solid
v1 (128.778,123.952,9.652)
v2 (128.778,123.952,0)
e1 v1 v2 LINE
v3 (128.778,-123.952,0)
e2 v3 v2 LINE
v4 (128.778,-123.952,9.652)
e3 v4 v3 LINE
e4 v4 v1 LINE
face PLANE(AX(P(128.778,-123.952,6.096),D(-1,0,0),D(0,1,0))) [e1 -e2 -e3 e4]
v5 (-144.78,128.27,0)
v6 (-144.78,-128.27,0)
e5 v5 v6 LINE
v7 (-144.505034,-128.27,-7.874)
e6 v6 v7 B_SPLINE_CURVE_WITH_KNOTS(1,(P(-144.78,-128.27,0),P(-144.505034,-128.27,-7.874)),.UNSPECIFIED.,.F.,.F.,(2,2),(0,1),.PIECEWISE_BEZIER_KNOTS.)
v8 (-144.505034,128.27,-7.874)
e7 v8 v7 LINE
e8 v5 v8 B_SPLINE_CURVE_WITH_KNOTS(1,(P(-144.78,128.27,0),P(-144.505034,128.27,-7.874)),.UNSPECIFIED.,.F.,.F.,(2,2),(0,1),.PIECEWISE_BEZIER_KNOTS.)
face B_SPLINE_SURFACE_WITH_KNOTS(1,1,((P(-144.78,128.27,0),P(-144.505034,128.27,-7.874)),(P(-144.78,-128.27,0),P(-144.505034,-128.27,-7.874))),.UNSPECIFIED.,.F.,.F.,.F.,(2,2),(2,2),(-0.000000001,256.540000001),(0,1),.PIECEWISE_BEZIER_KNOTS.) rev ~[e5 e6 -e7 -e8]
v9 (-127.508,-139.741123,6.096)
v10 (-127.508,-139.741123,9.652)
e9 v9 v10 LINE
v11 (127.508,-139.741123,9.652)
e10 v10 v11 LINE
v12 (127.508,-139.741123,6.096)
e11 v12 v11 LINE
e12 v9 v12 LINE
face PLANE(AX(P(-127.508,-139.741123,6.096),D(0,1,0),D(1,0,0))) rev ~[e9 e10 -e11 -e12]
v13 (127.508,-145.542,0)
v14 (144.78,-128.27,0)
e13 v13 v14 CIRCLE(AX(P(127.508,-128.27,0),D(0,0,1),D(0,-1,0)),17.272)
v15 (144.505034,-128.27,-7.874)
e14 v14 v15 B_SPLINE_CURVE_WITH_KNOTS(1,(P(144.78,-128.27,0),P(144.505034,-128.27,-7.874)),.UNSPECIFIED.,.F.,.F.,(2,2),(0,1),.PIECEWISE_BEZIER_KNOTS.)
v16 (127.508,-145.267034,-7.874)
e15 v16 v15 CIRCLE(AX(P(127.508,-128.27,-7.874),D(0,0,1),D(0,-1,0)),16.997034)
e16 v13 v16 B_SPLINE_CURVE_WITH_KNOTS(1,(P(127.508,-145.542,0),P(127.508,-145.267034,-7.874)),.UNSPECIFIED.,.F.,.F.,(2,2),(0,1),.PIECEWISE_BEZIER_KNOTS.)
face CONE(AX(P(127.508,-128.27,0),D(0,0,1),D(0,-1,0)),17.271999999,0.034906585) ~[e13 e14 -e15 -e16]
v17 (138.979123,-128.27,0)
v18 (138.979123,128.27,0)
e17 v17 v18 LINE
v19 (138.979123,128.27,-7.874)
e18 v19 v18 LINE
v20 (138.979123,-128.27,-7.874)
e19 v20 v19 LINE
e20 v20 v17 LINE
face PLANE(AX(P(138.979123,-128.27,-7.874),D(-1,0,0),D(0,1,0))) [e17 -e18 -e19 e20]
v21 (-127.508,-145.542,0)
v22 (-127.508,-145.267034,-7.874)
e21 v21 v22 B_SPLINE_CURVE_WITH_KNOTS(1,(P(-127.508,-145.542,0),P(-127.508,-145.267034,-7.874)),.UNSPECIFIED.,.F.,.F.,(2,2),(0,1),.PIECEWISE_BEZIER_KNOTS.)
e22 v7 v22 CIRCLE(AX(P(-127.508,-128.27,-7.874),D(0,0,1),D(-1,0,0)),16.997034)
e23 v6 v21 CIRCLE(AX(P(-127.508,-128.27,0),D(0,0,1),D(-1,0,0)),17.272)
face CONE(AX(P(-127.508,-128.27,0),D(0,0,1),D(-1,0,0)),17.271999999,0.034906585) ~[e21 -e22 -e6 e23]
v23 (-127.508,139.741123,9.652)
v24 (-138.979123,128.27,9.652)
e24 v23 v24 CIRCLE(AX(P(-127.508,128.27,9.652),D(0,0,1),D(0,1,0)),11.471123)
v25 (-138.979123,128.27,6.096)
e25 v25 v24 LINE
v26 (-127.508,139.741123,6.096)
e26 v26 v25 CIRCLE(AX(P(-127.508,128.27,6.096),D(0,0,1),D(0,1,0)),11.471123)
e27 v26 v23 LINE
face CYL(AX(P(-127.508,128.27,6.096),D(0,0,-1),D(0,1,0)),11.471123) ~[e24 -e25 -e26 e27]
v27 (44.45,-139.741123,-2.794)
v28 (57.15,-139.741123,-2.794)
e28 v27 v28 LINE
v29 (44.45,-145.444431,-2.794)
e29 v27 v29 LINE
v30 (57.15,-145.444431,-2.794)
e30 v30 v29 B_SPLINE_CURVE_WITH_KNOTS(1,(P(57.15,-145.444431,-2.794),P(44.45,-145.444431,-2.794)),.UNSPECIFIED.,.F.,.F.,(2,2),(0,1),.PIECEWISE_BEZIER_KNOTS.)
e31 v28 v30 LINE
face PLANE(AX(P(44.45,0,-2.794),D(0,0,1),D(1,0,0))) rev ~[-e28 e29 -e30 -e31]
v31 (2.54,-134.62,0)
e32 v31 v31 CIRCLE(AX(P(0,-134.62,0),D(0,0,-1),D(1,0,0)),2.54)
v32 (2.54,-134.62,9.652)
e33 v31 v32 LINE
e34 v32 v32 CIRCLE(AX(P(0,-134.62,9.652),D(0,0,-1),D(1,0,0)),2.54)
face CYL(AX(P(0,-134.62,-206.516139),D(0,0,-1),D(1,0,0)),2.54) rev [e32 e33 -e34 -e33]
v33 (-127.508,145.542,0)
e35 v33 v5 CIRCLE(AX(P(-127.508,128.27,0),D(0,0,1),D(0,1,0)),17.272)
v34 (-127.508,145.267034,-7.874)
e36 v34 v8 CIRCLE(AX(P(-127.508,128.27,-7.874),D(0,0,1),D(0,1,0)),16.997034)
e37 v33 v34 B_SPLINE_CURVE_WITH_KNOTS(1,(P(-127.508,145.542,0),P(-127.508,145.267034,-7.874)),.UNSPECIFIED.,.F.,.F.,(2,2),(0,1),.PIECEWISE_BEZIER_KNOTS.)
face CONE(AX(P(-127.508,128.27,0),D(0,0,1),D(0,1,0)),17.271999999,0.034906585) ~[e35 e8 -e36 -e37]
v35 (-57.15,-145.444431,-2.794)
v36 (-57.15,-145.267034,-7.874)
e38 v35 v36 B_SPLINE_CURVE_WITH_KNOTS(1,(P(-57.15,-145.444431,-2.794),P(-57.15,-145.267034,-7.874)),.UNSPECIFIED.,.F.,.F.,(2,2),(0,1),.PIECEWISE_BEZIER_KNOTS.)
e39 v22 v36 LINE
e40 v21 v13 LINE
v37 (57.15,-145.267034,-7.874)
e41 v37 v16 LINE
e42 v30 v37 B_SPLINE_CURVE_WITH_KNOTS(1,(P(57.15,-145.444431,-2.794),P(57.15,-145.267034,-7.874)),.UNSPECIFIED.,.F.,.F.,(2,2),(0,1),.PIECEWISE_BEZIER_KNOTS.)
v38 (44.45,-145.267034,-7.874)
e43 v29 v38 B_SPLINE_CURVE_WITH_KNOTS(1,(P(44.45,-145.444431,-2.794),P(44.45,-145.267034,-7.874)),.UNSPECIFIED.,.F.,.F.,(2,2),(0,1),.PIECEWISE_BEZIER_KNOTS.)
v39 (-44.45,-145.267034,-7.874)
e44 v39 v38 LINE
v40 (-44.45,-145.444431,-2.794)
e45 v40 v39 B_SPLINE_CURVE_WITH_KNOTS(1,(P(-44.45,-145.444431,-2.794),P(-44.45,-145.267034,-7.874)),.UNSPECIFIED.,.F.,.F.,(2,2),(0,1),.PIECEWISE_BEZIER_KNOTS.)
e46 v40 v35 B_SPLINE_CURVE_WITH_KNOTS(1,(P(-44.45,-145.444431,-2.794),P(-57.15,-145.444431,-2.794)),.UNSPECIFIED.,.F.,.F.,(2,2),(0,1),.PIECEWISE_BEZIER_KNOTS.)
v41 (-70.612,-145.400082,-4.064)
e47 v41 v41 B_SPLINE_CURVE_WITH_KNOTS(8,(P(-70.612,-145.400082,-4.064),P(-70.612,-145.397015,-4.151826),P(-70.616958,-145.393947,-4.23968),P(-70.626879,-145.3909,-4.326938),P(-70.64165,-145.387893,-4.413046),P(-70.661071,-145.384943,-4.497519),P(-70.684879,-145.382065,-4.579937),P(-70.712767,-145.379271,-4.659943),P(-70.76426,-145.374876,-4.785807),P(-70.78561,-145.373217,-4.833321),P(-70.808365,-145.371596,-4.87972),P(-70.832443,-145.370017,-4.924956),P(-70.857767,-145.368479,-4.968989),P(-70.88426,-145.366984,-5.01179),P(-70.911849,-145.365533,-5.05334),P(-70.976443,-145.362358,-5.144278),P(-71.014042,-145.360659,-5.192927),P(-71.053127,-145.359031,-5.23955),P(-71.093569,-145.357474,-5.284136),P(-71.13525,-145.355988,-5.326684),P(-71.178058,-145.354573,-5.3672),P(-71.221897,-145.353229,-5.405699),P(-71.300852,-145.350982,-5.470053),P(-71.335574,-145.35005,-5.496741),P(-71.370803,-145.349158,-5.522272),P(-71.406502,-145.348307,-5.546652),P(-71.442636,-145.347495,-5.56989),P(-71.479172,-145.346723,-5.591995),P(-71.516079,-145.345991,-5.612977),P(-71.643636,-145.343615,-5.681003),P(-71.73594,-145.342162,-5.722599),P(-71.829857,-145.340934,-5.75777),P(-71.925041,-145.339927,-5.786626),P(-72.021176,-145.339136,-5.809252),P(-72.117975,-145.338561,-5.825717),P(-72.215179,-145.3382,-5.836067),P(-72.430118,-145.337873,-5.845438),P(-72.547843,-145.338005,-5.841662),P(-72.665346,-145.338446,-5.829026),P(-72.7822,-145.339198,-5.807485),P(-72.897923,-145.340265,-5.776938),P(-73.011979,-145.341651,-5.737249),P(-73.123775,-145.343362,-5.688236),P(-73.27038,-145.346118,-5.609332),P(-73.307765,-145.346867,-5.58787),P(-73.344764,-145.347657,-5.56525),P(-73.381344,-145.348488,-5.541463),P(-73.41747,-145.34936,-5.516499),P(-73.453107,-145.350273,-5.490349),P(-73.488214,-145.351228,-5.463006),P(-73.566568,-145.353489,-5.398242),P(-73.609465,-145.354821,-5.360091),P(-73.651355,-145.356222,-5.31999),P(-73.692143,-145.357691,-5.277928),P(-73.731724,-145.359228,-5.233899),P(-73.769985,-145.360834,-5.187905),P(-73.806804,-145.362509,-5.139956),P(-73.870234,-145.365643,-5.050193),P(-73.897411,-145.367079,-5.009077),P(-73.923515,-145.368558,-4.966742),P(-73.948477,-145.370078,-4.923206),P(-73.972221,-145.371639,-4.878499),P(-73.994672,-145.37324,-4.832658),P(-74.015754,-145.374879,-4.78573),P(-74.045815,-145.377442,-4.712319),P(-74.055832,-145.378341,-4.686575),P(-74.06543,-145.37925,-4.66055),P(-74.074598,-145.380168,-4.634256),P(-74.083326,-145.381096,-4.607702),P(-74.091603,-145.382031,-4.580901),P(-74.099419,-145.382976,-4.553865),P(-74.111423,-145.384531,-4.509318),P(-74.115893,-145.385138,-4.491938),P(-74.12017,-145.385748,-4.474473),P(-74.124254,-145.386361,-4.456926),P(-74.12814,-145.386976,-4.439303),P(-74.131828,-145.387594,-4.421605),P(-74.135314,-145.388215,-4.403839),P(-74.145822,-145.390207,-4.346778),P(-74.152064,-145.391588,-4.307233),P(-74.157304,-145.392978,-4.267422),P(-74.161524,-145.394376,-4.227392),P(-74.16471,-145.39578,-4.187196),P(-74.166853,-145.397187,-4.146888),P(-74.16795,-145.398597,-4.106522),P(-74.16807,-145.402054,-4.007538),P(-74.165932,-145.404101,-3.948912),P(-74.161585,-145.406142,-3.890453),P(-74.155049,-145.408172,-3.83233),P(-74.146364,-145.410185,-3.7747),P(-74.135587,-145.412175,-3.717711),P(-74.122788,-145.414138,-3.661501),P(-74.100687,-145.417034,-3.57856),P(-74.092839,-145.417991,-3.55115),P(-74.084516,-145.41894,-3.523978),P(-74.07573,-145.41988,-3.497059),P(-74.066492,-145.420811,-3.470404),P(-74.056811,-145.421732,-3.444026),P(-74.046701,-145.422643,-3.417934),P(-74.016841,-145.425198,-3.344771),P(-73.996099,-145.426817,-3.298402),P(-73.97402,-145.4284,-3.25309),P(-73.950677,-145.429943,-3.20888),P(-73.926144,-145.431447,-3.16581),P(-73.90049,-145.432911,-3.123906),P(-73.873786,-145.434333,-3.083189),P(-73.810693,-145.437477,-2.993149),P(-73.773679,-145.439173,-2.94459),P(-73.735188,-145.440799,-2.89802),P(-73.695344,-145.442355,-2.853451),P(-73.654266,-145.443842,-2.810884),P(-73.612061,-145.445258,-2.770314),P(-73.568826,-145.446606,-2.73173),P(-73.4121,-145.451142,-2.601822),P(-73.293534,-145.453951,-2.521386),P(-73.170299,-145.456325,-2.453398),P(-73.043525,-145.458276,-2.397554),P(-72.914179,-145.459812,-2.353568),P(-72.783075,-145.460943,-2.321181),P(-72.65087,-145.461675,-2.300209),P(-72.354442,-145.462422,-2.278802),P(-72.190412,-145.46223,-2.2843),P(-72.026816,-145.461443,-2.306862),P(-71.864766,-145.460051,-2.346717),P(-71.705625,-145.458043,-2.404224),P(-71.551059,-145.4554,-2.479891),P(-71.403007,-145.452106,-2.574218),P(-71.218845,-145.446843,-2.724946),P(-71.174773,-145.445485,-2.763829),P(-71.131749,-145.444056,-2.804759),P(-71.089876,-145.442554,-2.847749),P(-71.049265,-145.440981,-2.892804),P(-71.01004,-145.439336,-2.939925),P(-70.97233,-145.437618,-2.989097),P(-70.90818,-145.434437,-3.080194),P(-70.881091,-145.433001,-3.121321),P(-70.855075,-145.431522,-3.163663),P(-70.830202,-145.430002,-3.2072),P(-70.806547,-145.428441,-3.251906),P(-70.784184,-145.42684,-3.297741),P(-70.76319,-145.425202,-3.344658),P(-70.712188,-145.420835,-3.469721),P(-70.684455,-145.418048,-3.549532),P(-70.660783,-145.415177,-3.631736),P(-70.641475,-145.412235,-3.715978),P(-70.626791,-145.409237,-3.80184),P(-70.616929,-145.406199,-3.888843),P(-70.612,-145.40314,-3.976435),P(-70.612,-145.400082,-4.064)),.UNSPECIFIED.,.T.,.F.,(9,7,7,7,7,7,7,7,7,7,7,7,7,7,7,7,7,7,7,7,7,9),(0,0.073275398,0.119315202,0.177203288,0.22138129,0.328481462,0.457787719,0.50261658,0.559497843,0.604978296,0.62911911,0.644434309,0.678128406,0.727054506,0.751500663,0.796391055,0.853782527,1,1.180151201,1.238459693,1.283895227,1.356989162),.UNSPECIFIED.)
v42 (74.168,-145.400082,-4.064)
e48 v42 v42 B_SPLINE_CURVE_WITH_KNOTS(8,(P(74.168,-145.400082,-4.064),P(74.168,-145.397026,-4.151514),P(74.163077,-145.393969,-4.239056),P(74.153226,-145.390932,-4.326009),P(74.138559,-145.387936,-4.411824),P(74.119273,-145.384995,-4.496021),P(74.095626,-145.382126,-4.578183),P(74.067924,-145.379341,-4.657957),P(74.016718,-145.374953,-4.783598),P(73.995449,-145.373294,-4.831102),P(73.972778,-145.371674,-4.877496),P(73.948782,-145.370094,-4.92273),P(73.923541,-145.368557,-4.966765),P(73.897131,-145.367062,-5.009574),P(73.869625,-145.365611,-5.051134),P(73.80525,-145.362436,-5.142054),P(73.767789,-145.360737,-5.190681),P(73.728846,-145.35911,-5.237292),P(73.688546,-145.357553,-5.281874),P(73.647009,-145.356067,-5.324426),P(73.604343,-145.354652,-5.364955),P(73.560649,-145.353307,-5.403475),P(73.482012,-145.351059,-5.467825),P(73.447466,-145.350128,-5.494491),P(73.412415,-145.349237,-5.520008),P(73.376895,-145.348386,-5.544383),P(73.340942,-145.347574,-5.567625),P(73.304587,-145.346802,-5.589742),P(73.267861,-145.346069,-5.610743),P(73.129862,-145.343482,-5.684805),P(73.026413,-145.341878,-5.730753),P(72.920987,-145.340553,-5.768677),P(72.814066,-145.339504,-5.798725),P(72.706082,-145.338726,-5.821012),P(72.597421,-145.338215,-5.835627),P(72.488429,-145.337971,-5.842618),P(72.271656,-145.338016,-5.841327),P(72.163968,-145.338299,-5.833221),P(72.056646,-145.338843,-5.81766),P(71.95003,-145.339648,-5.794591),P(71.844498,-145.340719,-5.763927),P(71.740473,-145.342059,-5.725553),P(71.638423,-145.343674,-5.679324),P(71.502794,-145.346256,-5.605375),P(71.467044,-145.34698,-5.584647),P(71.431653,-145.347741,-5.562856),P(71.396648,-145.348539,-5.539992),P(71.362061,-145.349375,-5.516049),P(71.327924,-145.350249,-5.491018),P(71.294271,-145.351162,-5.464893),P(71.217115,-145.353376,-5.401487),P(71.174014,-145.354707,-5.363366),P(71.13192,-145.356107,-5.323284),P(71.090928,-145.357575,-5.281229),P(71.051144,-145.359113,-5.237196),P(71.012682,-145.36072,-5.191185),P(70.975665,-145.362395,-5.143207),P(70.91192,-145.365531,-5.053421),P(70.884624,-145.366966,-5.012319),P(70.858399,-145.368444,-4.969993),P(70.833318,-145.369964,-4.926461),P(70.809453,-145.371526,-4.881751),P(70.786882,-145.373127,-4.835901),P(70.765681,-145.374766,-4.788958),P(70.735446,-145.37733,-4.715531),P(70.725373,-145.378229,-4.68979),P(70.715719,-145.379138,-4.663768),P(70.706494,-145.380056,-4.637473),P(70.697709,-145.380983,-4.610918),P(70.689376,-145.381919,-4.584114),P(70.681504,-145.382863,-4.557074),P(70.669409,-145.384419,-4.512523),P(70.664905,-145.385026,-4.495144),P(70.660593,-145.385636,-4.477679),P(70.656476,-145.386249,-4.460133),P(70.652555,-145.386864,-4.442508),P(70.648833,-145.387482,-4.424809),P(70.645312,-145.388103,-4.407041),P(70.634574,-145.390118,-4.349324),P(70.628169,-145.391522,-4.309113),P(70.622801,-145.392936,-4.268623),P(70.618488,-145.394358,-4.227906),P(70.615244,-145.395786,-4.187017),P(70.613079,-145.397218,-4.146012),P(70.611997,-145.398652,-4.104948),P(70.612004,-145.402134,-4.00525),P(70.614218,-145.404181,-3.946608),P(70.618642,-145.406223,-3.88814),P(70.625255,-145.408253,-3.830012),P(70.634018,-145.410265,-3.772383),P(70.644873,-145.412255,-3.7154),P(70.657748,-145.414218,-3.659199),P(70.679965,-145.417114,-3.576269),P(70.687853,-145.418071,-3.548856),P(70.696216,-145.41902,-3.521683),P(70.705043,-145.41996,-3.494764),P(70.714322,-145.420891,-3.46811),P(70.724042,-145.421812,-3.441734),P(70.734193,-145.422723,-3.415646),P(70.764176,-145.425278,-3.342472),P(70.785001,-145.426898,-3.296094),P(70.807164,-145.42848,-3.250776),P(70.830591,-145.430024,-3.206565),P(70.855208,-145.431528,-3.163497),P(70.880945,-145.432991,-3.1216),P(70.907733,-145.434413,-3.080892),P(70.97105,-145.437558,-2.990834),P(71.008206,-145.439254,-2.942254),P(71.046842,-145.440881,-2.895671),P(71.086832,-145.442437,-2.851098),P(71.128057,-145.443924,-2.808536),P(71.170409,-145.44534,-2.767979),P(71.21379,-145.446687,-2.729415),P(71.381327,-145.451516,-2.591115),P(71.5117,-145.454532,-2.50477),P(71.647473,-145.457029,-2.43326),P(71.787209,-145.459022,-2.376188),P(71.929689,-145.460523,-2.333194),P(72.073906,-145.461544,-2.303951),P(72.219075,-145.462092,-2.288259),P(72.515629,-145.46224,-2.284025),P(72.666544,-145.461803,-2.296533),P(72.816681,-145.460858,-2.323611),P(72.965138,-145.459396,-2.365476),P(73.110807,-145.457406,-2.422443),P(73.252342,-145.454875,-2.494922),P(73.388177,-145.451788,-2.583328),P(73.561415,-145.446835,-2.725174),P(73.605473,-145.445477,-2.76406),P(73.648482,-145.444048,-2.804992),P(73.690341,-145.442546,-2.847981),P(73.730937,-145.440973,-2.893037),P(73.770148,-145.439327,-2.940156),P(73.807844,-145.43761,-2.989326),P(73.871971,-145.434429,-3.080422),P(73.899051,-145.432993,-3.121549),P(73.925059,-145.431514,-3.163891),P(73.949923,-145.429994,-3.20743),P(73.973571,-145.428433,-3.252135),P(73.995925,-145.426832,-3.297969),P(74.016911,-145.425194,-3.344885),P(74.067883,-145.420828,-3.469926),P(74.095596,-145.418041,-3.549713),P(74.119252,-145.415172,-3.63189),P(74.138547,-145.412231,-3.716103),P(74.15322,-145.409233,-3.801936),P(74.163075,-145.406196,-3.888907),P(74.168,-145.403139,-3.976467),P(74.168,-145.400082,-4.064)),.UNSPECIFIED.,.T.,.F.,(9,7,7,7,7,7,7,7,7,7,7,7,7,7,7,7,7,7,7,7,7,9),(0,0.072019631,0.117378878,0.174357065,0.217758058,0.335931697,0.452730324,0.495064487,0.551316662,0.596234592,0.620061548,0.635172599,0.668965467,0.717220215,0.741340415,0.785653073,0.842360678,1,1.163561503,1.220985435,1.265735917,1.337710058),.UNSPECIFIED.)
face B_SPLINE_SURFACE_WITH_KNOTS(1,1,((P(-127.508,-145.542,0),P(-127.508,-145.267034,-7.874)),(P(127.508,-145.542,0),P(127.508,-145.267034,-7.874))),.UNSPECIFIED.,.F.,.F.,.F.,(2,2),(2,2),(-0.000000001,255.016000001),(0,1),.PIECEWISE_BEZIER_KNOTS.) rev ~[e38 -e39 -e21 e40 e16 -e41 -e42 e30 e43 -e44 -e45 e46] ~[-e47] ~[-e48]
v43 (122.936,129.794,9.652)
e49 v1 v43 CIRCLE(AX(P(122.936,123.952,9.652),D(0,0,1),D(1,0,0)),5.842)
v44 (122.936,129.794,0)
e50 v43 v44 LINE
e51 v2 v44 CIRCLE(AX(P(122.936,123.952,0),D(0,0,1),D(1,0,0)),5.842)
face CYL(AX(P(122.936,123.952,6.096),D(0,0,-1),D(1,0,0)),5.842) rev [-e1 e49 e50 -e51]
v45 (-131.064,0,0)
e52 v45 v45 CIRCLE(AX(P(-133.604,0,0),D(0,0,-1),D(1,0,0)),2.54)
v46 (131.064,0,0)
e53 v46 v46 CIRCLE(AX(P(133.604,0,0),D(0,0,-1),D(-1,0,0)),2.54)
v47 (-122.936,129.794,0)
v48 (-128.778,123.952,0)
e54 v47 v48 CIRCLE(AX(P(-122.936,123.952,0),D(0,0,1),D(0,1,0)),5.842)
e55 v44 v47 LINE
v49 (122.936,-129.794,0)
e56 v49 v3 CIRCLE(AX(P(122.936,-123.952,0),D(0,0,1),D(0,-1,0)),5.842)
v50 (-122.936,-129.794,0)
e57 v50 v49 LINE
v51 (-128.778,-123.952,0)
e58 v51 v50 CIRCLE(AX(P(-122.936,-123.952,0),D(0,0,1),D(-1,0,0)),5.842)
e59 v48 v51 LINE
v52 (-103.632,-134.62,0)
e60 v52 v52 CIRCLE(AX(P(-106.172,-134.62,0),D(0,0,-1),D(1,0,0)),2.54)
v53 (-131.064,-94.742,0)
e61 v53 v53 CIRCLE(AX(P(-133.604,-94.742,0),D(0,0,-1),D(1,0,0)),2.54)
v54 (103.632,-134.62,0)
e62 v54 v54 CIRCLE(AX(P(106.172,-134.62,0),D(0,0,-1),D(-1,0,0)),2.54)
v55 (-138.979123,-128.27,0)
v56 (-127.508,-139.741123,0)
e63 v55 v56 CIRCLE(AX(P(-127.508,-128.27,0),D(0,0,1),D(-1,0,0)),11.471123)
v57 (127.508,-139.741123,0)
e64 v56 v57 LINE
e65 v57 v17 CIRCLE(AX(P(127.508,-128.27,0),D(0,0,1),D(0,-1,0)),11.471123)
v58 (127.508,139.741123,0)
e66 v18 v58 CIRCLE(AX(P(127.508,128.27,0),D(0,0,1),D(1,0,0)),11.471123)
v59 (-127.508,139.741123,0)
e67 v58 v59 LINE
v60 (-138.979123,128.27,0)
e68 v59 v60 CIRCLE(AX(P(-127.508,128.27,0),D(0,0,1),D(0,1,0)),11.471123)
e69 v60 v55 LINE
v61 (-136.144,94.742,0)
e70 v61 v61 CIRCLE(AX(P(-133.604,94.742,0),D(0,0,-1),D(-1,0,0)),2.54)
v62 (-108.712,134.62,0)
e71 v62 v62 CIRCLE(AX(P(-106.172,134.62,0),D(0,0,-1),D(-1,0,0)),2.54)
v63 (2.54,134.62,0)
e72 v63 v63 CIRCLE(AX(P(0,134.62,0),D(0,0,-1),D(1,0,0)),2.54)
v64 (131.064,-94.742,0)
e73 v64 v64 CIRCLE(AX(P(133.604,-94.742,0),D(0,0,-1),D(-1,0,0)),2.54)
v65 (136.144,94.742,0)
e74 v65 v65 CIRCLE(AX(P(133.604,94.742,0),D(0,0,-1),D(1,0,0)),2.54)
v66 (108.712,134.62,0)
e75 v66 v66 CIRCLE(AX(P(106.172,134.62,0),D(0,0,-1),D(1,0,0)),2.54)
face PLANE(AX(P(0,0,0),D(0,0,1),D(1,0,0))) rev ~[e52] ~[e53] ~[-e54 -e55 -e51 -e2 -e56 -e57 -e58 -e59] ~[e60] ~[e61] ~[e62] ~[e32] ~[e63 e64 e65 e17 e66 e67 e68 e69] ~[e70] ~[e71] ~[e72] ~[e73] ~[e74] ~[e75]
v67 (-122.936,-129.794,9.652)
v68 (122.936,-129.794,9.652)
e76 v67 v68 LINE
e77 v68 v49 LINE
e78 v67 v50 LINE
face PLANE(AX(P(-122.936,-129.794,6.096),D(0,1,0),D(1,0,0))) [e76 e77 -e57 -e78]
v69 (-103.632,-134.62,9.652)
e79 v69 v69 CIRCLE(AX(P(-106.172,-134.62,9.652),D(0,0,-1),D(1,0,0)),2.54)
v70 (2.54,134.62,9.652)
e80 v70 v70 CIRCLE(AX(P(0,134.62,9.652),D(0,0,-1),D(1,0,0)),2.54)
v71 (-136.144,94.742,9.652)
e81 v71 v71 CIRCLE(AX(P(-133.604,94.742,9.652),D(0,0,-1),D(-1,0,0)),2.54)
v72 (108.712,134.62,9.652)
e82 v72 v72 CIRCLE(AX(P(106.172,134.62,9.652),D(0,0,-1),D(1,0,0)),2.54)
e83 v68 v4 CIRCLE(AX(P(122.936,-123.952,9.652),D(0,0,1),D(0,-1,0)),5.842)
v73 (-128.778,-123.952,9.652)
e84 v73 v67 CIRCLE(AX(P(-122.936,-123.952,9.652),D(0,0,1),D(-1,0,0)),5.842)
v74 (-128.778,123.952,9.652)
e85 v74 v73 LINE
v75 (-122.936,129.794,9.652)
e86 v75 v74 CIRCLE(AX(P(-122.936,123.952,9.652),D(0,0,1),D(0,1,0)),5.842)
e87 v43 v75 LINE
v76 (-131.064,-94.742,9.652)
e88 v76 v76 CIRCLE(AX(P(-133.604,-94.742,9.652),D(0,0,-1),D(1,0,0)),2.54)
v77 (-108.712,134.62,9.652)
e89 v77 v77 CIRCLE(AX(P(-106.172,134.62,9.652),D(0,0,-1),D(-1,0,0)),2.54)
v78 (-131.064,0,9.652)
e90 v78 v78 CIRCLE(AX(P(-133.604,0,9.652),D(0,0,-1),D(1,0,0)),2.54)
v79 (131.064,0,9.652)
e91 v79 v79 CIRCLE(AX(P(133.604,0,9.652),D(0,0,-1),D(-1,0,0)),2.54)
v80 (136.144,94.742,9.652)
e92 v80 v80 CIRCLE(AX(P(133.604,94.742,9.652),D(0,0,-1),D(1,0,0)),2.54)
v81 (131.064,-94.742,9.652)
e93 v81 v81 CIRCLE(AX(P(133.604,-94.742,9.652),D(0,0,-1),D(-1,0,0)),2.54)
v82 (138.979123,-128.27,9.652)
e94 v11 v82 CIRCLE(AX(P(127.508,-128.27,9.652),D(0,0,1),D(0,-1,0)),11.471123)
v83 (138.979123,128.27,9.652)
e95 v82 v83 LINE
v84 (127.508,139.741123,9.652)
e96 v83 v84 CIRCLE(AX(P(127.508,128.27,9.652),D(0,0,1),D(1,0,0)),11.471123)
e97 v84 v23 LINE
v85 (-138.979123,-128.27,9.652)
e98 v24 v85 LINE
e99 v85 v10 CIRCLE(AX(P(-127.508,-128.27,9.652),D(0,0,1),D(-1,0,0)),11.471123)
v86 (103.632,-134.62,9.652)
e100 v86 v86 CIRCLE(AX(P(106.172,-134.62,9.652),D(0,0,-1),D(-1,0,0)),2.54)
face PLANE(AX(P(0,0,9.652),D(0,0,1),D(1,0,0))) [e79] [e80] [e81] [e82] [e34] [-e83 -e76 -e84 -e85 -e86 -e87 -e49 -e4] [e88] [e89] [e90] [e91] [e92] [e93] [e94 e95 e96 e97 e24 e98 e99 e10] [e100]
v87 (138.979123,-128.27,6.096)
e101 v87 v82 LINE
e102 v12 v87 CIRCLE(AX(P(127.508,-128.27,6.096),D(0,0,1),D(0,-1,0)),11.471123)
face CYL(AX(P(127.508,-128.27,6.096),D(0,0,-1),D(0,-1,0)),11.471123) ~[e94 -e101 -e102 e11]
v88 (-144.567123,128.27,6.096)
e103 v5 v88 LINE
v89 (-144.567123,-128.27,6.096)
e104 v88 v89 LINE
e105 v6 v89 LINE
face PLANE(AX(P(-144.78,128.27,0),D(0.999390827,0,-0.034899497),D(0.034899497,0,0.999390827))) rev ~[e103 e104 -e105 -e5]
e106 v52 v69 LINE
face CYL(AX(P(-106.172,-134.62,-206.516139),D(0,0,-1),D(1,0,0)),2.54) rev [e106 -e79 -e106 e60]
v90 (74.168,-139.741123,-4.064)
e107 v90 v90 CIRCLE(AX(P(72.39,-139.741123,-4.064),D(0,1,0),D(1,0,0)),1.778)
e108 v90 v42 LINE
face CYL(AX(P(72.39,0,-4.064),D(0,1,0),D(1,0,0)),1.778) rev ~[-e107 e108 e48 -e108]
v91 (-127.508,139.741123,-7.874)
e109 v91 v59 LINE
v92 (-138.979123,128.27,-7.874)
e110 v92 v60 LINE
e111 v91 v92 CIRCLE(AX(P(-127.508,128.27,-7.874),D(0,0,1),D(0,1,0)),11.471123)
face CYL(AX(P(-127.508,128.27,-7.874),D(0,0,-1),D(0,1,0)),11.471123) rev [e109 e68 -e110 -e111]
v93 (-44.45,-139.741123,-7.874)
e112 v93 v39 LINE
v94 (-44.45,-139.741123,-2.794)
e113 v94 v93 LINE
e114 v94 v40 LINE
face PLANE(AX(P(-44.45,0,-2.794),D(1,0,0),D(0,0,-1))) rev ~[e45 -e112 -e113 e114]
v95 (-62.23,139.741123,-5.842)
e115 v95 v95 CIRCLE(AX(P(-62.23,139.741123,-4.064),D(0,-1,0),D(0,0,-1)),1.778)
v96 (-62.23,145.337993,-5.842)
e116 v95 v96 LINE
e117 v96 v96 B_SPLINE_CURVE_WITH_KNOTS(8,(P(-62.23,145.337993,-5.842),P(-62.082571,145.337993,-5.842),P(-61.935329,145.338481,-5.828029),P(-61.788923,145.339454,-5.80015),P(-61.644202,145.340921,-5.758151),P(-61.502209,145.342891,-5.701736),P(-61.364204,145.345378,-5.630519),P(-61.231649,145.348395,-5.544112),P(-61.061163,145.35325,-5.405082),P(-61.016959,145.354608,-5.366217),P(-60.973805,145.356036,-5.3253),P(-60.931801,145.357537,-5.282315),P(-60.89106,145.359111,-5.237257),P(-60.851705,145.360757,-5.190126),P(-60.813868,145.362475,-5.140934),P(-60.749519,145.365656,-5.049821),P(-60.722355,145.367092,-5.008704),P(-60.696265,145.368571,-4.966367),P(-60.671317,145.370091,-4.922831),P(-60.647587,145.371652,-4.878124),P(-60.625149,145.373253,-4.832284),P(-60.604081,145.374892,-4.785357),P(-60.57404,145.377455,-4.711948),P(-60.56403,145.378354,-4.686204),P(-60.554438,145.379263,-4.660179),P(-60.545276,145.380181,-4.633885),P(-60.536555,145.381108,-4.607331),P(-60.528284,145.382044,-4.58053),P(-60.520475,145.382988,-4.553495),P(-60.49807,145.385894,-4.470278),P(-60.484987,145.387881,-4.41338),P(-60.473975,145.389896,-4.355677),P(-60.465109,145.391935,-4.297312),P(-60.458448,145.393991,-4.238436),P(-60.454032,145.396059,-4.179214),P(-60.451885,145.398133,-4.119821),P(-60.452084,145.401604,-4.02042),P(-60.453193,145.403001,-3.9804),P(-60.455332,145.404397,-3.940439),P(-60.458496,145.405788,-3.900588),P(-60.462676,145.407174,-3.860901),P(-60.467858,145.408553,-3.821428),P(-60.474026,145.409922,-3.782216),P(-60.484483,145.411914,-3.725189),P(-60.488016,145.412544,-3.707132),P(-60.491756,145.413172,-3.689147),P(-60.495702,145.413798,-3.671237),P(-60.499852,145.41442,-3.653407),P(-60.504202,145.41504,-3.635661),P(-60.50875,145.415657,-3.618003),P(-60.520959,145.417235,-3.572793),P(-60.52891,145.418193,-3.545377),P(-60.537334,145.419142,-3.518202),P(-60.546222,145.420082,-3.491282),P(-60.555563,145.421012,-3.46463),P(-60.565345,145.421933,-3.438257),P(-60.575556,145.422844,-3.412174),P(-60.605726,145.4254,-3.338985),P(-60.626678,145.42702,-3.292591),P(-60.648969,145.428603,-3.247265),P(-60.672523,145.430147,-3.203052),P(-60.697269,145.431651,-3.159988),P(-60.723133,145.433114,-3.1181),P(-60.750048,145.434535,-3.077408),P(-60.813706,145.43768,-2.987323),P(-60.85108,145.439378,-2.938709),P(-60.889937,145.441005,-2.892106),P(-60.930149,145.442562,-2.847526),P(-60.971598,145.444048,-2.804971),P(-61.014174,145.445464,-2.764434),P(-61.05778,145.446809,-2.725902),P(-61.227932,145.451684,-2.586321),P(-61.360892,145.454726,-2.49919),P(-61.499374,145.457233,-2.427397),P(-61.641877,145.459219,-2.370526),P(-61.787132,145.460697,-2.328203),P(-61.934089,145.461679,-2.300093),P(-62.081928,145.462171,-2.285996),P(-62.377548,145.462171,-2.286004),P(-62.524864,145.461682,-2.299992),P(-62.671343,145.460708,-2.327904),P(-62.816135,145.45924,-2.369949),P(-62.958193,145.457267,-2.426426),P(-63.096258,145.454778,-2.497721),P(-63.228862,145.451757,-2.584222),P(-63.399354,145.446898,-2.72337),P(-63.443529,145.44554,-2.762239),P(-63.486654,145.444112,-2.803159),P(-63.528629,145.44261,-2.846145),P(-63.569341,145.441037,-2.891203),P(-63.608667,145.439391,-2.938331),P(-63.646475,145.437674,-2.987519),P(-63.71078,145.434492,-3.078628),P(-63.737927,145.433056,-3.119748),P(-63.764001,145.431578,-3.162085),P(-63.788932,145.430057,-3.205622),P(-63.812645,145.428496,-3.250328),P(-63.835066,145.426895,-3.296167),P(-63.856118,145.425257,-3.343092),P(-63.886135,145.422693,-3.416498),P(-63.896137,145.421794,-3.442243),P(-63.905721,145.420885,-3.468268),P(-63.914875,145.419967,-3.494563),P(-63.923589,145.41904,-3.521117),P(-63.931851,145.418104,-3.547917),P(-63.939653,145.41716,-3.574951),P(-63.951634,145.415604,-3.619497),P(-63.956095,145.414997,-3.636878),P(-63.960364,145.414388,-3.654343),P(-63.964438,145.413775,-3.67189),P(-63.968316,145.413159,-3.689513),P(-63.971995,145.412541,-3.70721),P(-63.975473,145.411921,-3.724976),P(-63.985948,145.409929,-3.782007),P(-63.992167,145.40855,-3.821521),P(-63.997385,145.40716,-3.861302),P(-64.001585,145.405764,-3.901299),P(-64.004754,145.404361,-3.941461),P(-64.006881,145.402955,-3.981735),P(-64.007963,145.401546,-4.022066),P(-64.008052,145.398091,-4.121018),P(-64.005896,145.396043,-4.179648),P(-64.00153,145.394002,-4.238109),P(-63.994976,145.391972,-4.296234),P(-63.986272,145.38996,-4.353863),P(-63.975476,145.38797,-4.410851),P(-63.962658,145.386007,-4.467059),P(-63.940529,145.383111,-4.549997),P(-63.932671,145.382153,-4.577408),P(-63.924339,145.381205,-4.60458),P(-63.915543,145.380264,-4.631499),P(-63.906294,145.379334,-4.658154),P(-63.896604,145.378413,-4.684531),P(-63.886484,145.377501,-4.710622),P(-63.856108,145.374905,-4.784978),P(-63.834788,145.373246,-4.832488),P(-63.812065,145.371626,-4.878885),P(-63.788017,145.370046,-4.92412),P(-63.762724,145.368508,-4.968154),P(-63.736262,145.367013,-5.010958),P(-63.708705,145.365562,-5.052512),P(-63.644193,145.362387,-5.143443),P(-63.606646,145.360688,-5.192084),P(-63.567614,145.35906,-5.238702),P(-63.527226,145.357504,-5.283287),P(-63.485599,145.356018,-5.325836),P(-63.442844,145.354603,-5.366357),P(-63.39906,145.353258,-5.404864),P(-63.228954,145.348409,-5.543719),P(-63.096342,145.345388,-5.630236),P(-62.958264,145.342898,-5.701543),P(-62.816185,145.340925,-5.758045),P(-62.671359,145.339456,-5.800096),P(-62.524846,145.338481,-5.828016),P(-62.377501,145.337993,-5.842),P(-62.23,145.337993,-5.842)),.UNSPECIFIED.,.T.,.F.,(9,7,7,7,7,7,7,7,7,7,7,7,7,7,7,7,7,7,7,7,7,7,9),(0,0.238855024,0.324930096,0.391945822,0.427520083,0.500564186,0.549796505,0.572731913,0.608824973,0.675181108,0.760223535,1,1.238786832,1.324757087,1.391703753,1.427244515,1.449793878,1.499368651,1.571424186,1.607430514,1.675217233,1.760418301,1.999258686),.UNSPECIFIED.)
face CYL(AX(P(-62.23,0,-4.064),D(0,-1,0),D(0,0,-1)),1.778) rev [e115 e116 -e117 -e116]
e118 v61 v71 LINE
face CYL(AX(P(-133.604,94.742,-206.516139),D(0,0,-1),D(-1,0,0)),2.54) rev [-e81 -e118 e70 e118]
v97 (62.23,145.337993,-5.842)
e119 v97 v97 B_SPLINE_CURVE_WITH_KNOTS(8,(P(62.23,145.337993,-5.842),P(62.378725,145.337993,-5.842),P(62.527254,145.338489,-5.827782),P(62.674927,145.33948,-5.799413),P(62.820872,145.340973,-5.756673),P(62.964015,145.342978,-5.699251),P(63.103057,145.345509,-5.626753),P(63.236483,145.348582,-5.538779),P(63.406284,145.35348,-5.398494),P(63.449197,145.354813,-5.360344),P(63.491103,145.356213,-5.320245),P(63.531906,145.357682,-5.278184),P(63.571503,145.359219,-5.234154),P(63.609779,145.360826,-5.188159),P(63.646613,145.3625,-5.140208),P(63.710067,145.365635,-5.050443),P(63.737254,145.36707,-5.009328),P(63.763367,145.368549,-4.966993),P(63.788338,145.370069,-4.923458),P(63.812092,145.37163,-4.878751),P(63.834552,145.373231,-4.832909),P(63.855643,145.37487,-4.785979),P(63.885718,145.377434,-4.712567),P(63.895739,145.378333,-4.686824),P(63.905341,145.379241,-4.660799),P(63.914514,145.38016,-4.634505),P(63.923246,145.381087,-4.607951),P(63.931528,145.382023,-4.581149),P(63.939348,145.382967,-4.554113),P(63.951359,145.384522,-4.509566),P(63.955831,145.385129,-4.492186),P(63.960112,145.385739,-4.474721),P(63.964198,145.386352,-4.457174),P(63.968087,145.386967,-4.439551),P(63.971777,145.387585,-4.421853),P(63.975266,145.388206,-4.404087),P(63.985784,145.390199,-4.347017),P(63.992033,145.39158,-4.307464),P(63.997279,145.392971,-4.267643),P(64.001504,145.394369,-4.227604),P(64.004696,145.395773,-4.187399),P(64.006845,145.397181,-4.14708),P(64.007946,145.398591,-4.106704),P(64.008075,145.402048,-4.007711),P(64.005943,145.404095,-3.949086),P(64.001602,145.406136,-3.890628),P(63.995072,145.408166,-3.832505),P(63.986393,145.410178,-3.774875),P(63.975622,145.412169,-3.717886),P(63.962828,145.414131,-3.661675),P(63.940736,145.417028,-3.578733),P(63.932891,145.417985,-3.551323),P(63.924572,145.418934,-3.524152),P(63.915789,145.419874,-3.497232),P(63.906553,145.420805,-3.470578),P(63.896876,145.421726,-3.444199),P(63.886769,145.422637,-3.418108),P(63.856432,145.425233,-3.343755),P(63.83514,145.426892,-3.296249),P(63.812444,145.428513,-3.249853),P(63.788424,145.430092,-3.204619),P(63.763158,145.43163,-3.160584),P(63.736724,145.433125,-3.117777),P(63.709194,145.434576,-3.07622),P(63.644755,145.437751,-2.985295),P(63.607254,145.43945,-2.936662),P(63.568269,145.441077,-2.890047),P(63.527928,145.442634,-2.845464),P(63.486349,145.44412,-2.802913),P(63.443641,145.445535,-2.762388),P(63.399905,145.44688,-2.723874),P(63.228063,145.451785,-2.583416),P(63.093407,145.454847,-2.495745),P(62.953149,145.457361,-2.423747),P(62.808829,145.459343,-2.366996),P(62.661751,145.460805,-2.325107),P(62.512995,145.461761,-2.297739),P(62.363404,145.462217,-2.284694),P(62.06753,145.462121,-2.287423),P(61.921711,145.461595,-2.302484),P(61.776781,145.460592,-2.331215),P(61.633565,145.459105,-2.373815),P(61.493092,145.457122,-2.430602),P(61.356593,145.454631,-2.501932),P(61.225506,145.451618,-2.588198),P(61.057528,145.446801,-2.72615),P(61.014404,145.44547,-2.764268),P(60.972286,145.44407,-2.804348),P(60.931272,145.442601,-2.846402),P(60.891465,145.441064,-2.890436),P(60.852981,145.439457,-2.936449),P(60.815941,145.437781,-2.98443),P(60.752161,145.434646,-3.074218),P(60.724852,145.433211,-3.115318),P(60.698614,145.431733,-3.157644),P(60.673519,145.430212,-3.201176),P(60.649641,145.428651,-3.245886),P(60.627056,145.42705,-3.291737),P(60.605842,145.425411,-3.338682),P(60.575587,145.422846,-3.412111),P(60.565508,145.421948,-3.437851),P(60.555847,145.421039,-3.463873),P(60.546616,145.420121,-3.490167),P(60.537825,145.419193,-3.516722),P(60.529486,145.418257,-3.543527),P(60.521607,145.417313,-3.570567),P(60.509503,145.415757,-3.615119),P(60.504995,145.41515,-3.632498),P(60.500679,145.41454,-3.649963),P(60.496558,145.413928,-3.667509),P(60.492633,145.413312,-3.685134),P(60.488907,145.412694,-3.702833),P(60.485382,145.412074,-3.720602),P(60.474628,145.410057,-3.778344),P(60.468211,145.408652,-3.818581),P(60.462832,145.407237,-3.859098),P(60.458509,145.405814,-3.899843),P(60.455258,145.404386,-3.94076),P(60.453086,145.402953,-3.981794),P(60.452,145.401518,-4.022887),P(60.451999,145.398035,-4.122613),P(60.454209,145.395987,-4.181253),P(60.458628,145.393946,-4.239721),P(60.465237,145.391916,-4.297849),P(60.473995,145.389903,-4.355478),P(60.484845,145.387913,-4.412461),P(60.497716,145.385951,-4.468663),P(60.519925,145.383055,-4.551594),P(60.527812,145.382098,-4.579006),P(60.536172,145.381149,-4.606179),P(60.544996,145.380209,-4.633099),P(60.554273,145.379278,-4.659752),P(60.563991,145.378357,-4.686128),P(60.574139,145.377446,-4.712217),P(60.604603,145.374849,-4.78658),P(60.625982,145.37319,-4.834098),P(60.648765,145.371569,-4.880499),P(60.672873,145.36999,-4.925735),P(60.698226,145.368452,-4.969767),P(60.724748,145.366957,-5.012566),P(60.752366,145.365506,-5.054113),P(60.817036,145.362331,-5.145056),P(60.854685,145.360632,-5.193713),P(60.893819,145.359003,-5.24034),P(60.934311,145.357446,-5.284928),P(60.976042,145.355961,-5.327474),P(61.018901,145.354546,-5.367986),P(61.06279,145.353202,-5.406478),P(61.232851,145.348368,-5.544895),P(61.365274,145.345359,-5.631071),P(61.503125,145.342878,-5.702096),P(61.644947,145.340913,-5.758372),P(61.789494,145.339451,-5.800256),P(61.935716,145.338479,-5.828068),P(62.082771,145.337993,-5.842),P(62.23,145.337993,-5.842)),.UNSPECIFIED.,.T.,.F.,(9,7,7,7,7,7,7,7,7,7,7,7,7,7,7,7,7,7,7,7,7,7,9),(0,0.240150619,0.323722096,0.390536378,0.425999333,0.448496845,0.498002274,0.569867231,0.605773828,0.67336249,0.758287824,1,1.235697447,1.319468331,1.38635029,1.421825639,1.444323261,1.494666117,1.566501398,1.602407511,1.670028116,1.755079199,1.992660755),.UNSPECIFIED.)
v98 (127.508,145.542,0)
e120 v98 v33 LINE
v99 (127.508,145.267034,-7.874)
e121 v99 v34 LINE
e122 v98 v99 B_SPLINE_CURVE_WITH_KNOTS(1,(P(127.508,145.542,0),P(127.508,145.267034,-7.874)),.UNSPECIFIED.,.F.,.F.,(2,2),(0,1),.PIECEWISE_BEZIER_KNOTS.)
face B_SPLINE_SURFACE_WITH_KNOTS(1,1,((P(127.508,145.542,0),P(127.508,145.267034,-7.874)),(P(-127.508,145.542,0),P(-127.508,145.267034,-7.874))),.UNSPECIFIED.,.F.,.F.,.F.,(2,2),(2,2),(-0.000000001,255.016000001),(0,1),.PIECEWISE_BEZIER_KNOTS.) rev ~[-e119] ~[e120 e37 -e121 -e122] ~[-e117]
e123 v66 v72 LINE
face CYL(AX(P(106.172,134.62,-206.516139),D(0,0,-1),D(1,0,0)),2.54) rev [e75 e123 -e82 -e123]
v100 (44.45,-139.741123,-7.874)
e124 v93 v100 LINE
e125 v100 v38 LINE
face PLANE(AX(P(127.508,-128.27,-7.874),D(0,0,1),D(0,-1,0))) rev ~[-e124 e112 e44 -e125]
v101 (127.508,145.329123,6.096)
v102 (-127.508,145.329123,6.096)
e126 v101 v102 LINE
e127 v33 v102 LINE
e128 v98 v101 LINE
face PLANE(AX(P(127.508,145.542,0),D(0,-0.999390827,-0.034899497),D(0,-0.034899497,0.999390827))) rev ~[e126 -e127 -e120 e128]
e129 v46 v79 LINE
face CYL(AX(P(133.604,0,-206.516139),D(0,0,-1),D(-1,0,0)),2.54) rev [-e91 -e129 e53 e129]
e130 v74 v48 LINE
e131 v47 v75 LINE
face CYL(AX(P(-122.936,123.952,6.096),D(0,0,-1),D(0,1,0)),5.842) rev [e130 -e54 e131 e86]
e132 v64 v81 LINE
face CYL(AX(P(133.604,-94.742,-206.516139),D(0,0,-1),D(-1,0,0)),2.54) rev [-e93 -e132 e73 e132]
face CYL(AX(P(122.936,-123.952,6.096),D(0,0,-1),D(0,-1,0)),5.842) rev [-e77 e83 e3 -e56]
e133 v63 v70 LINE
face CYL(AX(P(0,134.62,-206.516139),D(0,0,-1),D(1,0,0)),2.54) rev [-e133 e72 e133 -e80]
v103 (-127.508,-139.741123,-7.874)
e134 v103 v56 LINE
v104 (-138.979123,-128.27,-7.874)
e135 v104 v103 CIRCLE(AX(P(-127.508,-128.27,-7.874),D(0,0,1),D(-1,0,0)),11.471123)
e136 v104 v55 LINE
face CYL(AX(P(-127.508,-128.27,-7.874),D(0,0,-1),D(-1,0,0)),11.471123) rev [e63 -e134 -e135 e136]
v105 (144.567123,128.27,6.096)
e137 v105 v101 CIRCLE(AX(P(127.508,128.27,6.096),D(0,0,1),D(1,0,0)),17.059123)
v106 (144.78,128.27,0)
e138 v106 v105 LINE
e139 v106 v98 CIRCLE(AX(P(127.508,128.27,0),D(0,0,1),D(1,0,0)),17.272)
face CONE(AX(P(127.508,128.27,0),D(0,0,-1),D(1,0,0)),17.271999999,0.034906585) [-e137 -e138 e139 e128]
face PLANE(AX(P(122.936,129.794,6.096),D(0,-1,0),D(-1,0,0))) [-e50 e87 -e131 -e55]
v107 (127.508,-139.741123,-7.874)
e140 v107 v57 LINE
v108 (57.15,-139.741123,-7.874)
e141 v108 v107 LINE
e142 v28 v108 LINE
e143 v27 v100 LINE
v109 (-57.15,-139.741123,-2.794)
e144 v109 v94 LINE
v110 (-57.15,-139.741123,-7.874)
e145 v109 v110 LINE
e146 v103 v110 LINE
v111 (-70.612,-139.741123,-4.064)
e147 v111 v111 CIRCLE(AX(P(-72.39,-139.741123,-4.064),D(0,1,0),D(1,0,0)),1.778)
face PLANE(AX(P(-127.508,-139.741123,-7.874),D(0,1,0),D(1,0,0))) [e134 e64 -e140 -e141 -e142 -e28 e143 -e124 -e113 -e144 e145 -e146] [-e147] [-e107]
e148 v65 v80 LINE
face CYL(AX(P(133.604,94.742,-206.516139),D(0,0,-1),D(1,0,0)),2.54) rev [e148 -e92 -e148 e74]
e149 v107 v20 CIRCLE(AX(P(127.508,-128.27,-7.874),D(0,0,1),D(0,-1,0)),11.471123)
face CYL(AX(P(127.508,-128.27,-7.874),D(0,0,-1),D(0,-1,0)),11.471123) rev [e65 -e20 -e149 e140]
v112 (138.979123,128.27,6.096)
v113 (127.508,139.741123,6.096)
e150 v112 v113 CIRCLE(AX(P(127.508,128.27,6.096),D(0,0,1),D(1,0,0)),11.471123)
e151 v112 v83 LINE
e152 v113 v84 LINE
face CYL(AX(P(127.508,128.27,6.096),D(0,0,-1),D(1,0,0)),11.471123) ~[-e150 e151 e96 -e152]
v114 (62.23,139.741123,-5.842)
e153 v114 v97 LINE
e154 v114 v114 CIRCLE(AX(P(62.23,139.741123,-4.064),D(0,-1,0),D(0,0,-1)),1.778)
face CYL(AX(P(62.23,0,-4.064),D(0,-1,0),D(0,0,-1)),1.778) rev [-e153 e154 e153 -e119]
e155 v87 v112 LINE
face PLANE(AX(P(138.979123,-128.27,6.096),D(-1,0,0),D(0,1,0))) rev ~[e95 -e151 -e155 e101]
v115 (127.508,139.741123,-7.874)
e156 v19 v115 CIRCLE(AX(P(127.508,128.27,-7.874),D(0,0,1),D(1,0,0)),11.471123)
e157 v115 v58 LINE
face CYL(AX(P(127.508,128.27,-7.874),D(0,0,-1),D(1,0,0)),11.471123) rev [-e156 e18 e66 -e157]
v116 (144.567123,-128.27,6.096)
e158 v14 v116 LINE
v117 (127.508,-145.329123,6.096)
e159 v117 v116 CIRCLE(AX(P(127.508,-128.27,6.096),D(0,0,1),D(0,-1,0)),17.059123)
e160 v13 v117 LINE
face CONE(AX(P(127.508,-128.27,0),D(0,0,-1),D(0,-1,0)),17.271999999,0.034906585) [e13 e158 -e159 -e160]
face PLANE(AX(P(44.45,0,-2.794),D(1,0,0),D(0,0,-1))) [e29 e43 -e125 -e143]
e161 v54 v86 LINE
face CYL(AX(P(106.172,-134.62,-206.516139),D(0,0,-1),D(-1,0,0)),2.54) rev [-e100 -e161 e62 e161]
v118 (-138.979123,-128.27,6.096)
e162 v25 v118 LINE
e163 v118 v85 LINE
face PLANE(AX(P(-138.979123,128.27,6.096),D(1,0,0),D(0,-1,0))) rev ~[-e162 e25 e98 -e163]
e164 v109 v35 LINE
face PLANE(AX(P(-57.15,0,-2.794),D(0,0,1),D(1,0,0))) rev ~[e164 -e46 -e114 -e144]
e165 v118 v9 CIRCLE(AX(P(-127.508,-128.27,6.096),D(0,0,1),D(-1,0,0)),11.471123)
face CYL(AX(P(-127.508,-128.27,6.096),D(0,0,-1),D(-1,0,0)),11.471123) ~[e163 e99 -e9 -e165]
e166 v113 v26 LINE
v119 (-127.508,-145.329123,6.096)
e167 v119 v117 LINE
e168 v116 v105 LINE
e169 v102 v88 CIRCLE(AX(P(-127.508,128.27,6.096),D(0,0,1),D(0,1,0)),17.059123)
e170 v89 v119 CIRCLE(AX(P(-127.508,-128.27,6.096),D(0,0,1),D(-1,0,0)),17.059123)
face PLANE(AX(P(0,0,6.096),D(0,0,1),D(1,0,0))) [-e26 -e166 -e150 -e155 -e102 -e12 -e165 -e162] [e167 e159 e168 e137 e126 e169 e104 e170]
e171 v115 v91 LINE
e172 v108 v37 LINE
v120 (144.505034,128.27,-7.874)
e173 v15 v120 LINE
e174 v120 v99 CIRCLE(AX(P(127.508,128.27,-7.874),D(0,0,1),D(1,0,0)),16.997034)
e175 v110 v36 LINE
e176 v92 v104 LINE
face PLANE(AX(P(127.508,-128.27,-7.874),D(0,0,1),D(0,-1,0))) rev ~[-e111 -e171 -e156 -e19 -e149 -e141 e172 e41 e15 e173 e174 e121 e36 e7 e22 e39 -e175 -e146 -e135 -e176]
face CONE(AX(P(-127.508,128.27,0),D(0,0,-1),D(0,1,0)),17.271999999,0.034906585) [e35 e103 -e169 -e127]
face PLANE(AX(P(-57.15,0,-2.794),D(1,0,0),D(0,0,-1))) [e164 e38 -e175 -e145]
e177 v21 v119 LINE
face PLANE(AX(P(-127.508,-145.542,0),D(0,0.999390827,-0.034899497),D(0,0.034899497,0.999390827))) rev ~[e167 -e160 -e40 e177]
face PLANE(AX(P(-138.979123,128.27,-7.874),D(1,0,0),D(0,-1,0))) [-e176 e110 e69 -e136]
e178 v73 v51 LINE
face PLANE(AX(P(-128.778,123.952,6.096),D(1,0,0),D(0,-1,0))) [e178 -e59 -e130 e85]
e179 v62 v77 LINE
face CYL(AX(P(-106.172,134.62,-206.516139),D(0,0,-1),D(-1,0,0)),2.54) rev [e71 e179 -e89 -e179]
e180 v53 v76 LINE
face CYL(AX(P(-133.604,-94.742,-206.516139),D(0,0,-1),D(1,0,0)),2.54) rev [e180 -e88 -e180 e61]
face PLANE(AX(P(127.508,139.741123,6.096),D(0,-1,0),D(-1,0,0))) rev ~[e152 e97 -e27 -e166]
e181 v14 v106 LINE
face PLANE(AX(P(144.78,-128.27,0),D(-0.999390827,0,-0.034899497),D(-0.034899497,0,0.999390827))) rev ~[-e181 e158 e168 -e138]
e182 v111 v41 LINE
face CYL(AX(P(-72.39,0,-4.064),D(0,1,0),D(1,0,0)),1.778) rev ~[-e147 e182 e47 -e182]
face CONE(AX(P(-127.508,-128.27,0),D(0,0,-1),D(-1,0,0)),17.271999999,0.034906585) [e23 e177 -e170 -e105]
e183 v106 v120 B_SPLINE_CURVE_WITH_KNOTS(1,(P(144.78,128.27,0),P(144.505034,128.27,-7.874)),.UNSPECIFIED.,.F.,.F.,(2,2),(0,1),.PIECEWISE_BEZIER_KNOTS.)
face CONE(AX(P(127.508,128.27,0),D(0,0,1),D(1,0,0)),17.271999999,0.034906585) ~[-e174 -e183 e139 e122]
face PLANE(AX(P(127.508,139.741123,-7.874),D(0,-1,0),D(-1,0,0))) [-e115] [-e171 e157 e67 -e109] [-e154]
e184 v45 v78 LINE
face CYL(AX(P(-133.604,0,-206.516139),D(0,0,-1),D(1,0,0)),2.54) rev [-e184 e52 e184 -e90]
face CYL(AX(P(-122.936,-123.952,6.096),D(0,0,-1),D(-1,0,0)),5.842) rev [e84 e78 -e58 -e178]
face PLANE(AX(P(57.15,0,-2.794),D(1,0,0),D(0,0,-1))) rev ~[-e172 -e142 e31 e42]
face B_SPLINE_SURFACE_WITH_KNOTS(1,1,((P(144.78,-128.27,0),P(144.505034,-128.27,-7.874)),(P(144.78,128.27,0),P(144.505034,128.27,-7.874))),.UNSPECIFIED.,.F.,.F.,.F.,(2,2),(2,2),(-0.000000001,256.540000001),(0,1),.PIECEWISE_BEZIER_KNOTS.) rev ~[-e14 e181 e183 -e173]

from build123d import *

# Parameters (mm, degrees)
BOSS_EXTRUDE1_DEPTH           = 6.096
BOSS_EXTRUDE1_TAPER           = 2
BOSS_EXTRUDE1_OTHER_WAY_DEPTH = 7.874
BOSS_EXTRUDE1_OTHER_WAY_TAPER = 2
CUT_EXTRUDE1_DEPTH            = 206.440312742
CUT_EXTRUDE1_DEPTH_BACK       = 206.440312742
BOSS_EXTRUDE2_START           = 6.096
BOSS_EXTRUDE2_DEPTH           = 3.556
CUT_EXTRUDE2_DEPTH            = 206.516138846
CUT_EXTRUDE2_DEPTH_BACK       = 206.516138846
SKETCH4_4_R                   = 2.54
CUT_EXTRUDE5_START            = -7.874
CUT_EXTRUDE5_DEPTH            = 7.874
SKETCH6_W                     = 12.7
SKETCH6_H                     = 5.08
SKETCH6_R                     = 1.778
CUT_EXTRUDE6_DEPTH            = 160.02
SKETCH6_3_R                   = 1.778
CUT_EXTRUDE7_DEPTH            = 160.02


with BuildPart() as part:
    # Sketch1 → Boss-Extrude1 (new body)
    with BuildSketch(Plane.XY):
        with BuildLine():
            Line((-127.508, -145.542), (127.508, -145.542))
            ThreePointArc((127.508, -145.542), (139.721148325, -140.483148325), (144.78, -128.27))
            Line((144.78, -128.27), (144.78, 128.27))
            ThreePointArc((144.78, 128.27), (139.721148325, 140.483148325), (127.508, 145.542))
            Line((127.508, 145.542), (-127.508, 145.542))
            ThreePointArc((-127.508, 145.542), (-139.721148325, 140.483148325), (-144.78, 128.27))
            Line((-144.78, 128.27), (-144.78, -128.27))
            ThreePointArc((-144.78, -128.27), (-139.721148325, -140.483148325), (-127.508, -145.542))
        make_face()
    extrude(amount=BOSS_EXTRUDE1_DEPTH, taper=BOSS_EXTRUDE1_TAPER)

    # Sketch1 → Boss-Extrude1 other way (add)
    with BuildSketch(Plane.XY):
        with BuildLine():
            Line((-127.508, -145.542), (127.508, -145.542))
            ThreePointArc((127.508, -145.542), (139.721148325, -140.483148325), (144.78, -128.27))
            Line((144.78, -128.27), (144.78, 128.27))
            ThreePointArc((144.78, 128.27), (139.721148325, 140.483148325), (127.508, 145.542))
            Line((127.508, 145.542), (-127.508, 145.542))
            ThreePointArc((-127.508, 145.542), (-139.721148325, 140.483148325), (-144.78, 128.27))
            Line((-144.78, 128.27), (-144.78, -128.27))
            ThreePointArc((-144.78, -128.27), (-139.721148325, -140.483148325), (-127.508, -145.542))
        make_face()
    extrude(amount=-BOSS_EXTRUDE1_OTHER_WAY_DEPTH, taper=BOSS_EXTRUDE1_OTHER_WAY_TAPER)

    # Sketch4 → Cut-Extrude1 (cut, two sides: drawn at the far end of the back side and taken through both)
    with BuildSketch(Plane.XY.offset(-CUT_EXTRUDE1_DEPTH_BACK)):
        with BuildLine():
            ThreePointArc((-128.778, 123.952), (-127.066917816, 128.082917816), (-122.936, 129.794))
            Line((-122.936, 129.794), (122.936, 129.794))
            ThreePointArc((122.936, 129.794), (127.066917816, 128.082917816), (128.778, 123.952))
            Line((128.778, 123.952), (128.778, -123.952))
            ThreePointArc((128.778, -123.952), (127.066917816, -128.082917816), (122.936, -129.794))
            Line((122.936, -129.794), (-122.936, -129.794))
            ThreePointArc((-122.936, -129.794), (-127.066917816, -128.082917816), (-128.778, -123.952))
            Line((-128.778, -123.952), (-128.778, 123.952))
        make_face()
    extrude(amount=CUT_EXTRUDE1_DEPTH + CUT_EXTRUDE1_DEPTH_BACK, mode=Mode.SUBTRACT)

    # Sketch5 → Boss-Extrude2 (add)
    with BuildSketch(Plane.XY.offset(BOSS_EXTRUDE2_START)):
        with BuildLine():
            Line((-138.979122989, 128.27), (-138.979122989, -128.27))
            ThreePointArc((-138.979122989, -128.27), (-135.619308853, -136.381308853), (-127.508, -139.741122989))
            Line((-127.508, -139.741122989), (127.508, -139.741122989))
            ThreePointArc((127.508, -139.741122989), (135.619308853, -136.381308853), (138.979122989, -128.27))
            Line((138.979122989, -128.27), (138.979122989, 128.27))
            ThreePointArc((138.979122989, 128.27), (135.619308853, 136.381308853), (127.508, 139.741122989))
            Line((127.508, 139.741122989), (-127.508, 139.741122989))
            ThreePointArc((-127.508, 139.741122989), (-135.619308853, 136.381308853), (-138.979122989, 128.27))
        make_face()
        with BuildLine():
            ThreePointArc((-122.936, 129.794), (-127.066917816, 128.082917816), (-128.778, 123.952))
            Line((-128.778, 123.952), (-128.778, -123.952))
            ThreePointArc((-128.778, -123.952), (-127.066917816, -128.082917816), (-122.936, -129.794))
            Line((-122.936, -129.794), (122.936, -129.794))
            ThreePointArc((122.936, -129.794), (127.066917816, -128.082917816), (128.778, -123.952))
            Line((128.778, -123.952), (128.778, 123.952))
            ThreePointArc((128.778, 123.952), (127.066917816, 128.082917816), (122.936, 129.794))
            Line((122.936, 129.794), (-122.936, 129.794))
        make_face(mode=Mode.SUBTRACT)
    extrude(amount=BOSS_EXTRUDE2_DEPTH)

    # Sketch4<4> → Cut-Extrude2 (cut, two sides: drawn at the far end of the back side and taken through both)
    with BuildSketch(Plane.XY.offset(-CUT_EXTRUDE2_DEPTH_BACK)):
        with Locations((-106.172, -134.62)):
            Circle(SKETCH4_4_R)
        with Locations((-133.604, -94.742)):
            Circle(SKETCH4_4_R)
        with Locations(Location((133.604, 0, 0), (0, 0, 180))):
            Circle(SKETCH4_4_R)
        with Locations(Location((133.604, -94.742, 0), (0, 0, 180))):
            Circle(SKETCH4_4_R)
        with Locations(Location((106.172, -134.62, 0), (0, 0, 180))):
            Circle(SKETCH4_4_R)
        with Locations((106.172, 134.62)):
            Circle(SKETCH4_4_R)
        with Locations((133.604, 94.742)):
            Circle(SKETCH4_4_R)
        with Locations(Location((-133.604, 94.742, 0), (0, 0, 180))):
            Circle(SKETCH4_4_R)
        with Locations(Location((-106.172, 134.62, 0), (0, 0, 180))):
            Circle(SKETCH4_4_R)
        with Locations((0, 134.62)):
            Circle(SKETCH4_4_R)
        with Locations((0, -134.62)):
            Circle(SKETCH4_4_R)
        with Locations((-133.604, 0)):
            Circle(SKETCH4_4_R)
        with BuildLine():
            Line((-122.936, -129.794), (122.936, -129.794))
            ThreePointArc((122.936, -129.794), (127.066917816, -128.082917816), (128.778, -123.952))
            Line((128.778, -123.952), (128.778, 123.952))
            ThreePointArc((128.778, 123.952), (127.066917816, 128.082917816), (122.936, 129.794))
            Line((122.936, 129.794), (-122.936, 129.794))
            ThreePointArc((-122.936, 129.794), (-127.066917816, 128.082917816), (-128.778, 123.952))
            Line((-128.778, 123.952), (-128.778, -123.952))
            ThreePointArc((-128.778, -123.952), (-127.066917816, -128.082917816), (-122.936, -129.794))
        make_face()
    extrude(amount=CUT_EXTRUDE2_DEPTH + CUT_EXTRUDE2_DEPTH_BACK, mode=Mode.SUBTRACT)

    # Sketch5<4> → Cut-Extrude5 (cut)
    with BuildSketch(Plane.XY.offset(CUT_EXTRUDE5_START)):
        with BuildLine():
            Line((-138.979122989, 128.27), (-138.979122989, -128.27))
            ThreePointArc((-138.979122989, -128.27), (-135.619308853, -136.381308853), (-127.508, -139.741122989))
            Line((-127.508, -139.741122989), (127.508, -139.741122989))
            ThreePointArc((127.508, -139.741122989), (135.619308853, -136.381308853), (138.979122989, -128.27))
            Line((138.979122989, -128.27), (138.979122989, 128.27))
            ThreePointArc((138.979122989, 128.27), (135.619308853, 136.381308853), (127.508, 139.741122989))
            Line((127.508, 139.741122989), (-127.508, 139.741122989))
            ThreePointArc((-127.508, 139.741122989), (-135.619308853, 136.381308853), (-138.979122989, 128.27))
        make_face()
        with BuildLine():
            ThreePointArc((-122.936, 129.794), (-127.066917816, 128.082917816), (-128.778, 123.952))
            Line((-128.778, 123.952), (-128.778, -123.952))
            ThreePointArc((-128.778, -123.952), (-127.066917816, -128.082917816), (-122.936, -129.794))
            Line((-122.936, -129.794), (122.936, -129.794))
            ThreePointArc((122.936, -129.794), (127.066917816, -128.082917816), (128.778, -123.952))
            Line((128.778, -123.952), (128.778, 123.952))
            ThreePointArc((128.778, 123.952), (127.066917816, 128.082917816), (122.936, 129.794))
            Line((122.936, 129.794), (-122.936, 129.794))
        make_face(mode=Mode.SUBTRACT)
    extrude(amount=CUT_EXTRUDE5_DEPTH, mode=Mode.SUBTRACT)

    # Sketch6 → Cut-Extrude6 (cut)
    with BuildSketch(Plane(origin=(0, 0, 0), x_dir=(1, 0, 0), z_dir=(0, 1, 0))):
        with Locations((-50.8, 5.334)):
            Rectangle(SKETCH6_W, SKETCH6_H)
        with Locations((50.8, 5.334)):
            Rectangle(SKETCH6_W, SKETCH6_H)
        with Locations((-72.39, 4.064)):
            Circle(SKETCH6_R)
        with Locations((72.39, 4.064)):
            Circle(SKETCH6_R)
    extrude(amount=-CUT_EXTRUDE6_DEPTH, mode=Mode.SUBTRACT)

    # Sketch6<3> → Cut-Extrude7 (cut)
    with BuildSketch(Plane(origin=(0, 0, 0), x_dir=(1, 0, 0), z_dir=(0, 1, 0))):
        with Locations(Location((62.23, 4.064, 0), (0, 0, 90))):
            Circle(SKETCH6_3_R)
        with Locations(Location((-62.23, 4.064, 0), (0, 0, 90))):
            Circle(SKETCH6_3_R)
    extrude(amount=CUT_EXTRUDE7_DEPTH, mode=Mode.SUBTRACT)


solid = part.part
